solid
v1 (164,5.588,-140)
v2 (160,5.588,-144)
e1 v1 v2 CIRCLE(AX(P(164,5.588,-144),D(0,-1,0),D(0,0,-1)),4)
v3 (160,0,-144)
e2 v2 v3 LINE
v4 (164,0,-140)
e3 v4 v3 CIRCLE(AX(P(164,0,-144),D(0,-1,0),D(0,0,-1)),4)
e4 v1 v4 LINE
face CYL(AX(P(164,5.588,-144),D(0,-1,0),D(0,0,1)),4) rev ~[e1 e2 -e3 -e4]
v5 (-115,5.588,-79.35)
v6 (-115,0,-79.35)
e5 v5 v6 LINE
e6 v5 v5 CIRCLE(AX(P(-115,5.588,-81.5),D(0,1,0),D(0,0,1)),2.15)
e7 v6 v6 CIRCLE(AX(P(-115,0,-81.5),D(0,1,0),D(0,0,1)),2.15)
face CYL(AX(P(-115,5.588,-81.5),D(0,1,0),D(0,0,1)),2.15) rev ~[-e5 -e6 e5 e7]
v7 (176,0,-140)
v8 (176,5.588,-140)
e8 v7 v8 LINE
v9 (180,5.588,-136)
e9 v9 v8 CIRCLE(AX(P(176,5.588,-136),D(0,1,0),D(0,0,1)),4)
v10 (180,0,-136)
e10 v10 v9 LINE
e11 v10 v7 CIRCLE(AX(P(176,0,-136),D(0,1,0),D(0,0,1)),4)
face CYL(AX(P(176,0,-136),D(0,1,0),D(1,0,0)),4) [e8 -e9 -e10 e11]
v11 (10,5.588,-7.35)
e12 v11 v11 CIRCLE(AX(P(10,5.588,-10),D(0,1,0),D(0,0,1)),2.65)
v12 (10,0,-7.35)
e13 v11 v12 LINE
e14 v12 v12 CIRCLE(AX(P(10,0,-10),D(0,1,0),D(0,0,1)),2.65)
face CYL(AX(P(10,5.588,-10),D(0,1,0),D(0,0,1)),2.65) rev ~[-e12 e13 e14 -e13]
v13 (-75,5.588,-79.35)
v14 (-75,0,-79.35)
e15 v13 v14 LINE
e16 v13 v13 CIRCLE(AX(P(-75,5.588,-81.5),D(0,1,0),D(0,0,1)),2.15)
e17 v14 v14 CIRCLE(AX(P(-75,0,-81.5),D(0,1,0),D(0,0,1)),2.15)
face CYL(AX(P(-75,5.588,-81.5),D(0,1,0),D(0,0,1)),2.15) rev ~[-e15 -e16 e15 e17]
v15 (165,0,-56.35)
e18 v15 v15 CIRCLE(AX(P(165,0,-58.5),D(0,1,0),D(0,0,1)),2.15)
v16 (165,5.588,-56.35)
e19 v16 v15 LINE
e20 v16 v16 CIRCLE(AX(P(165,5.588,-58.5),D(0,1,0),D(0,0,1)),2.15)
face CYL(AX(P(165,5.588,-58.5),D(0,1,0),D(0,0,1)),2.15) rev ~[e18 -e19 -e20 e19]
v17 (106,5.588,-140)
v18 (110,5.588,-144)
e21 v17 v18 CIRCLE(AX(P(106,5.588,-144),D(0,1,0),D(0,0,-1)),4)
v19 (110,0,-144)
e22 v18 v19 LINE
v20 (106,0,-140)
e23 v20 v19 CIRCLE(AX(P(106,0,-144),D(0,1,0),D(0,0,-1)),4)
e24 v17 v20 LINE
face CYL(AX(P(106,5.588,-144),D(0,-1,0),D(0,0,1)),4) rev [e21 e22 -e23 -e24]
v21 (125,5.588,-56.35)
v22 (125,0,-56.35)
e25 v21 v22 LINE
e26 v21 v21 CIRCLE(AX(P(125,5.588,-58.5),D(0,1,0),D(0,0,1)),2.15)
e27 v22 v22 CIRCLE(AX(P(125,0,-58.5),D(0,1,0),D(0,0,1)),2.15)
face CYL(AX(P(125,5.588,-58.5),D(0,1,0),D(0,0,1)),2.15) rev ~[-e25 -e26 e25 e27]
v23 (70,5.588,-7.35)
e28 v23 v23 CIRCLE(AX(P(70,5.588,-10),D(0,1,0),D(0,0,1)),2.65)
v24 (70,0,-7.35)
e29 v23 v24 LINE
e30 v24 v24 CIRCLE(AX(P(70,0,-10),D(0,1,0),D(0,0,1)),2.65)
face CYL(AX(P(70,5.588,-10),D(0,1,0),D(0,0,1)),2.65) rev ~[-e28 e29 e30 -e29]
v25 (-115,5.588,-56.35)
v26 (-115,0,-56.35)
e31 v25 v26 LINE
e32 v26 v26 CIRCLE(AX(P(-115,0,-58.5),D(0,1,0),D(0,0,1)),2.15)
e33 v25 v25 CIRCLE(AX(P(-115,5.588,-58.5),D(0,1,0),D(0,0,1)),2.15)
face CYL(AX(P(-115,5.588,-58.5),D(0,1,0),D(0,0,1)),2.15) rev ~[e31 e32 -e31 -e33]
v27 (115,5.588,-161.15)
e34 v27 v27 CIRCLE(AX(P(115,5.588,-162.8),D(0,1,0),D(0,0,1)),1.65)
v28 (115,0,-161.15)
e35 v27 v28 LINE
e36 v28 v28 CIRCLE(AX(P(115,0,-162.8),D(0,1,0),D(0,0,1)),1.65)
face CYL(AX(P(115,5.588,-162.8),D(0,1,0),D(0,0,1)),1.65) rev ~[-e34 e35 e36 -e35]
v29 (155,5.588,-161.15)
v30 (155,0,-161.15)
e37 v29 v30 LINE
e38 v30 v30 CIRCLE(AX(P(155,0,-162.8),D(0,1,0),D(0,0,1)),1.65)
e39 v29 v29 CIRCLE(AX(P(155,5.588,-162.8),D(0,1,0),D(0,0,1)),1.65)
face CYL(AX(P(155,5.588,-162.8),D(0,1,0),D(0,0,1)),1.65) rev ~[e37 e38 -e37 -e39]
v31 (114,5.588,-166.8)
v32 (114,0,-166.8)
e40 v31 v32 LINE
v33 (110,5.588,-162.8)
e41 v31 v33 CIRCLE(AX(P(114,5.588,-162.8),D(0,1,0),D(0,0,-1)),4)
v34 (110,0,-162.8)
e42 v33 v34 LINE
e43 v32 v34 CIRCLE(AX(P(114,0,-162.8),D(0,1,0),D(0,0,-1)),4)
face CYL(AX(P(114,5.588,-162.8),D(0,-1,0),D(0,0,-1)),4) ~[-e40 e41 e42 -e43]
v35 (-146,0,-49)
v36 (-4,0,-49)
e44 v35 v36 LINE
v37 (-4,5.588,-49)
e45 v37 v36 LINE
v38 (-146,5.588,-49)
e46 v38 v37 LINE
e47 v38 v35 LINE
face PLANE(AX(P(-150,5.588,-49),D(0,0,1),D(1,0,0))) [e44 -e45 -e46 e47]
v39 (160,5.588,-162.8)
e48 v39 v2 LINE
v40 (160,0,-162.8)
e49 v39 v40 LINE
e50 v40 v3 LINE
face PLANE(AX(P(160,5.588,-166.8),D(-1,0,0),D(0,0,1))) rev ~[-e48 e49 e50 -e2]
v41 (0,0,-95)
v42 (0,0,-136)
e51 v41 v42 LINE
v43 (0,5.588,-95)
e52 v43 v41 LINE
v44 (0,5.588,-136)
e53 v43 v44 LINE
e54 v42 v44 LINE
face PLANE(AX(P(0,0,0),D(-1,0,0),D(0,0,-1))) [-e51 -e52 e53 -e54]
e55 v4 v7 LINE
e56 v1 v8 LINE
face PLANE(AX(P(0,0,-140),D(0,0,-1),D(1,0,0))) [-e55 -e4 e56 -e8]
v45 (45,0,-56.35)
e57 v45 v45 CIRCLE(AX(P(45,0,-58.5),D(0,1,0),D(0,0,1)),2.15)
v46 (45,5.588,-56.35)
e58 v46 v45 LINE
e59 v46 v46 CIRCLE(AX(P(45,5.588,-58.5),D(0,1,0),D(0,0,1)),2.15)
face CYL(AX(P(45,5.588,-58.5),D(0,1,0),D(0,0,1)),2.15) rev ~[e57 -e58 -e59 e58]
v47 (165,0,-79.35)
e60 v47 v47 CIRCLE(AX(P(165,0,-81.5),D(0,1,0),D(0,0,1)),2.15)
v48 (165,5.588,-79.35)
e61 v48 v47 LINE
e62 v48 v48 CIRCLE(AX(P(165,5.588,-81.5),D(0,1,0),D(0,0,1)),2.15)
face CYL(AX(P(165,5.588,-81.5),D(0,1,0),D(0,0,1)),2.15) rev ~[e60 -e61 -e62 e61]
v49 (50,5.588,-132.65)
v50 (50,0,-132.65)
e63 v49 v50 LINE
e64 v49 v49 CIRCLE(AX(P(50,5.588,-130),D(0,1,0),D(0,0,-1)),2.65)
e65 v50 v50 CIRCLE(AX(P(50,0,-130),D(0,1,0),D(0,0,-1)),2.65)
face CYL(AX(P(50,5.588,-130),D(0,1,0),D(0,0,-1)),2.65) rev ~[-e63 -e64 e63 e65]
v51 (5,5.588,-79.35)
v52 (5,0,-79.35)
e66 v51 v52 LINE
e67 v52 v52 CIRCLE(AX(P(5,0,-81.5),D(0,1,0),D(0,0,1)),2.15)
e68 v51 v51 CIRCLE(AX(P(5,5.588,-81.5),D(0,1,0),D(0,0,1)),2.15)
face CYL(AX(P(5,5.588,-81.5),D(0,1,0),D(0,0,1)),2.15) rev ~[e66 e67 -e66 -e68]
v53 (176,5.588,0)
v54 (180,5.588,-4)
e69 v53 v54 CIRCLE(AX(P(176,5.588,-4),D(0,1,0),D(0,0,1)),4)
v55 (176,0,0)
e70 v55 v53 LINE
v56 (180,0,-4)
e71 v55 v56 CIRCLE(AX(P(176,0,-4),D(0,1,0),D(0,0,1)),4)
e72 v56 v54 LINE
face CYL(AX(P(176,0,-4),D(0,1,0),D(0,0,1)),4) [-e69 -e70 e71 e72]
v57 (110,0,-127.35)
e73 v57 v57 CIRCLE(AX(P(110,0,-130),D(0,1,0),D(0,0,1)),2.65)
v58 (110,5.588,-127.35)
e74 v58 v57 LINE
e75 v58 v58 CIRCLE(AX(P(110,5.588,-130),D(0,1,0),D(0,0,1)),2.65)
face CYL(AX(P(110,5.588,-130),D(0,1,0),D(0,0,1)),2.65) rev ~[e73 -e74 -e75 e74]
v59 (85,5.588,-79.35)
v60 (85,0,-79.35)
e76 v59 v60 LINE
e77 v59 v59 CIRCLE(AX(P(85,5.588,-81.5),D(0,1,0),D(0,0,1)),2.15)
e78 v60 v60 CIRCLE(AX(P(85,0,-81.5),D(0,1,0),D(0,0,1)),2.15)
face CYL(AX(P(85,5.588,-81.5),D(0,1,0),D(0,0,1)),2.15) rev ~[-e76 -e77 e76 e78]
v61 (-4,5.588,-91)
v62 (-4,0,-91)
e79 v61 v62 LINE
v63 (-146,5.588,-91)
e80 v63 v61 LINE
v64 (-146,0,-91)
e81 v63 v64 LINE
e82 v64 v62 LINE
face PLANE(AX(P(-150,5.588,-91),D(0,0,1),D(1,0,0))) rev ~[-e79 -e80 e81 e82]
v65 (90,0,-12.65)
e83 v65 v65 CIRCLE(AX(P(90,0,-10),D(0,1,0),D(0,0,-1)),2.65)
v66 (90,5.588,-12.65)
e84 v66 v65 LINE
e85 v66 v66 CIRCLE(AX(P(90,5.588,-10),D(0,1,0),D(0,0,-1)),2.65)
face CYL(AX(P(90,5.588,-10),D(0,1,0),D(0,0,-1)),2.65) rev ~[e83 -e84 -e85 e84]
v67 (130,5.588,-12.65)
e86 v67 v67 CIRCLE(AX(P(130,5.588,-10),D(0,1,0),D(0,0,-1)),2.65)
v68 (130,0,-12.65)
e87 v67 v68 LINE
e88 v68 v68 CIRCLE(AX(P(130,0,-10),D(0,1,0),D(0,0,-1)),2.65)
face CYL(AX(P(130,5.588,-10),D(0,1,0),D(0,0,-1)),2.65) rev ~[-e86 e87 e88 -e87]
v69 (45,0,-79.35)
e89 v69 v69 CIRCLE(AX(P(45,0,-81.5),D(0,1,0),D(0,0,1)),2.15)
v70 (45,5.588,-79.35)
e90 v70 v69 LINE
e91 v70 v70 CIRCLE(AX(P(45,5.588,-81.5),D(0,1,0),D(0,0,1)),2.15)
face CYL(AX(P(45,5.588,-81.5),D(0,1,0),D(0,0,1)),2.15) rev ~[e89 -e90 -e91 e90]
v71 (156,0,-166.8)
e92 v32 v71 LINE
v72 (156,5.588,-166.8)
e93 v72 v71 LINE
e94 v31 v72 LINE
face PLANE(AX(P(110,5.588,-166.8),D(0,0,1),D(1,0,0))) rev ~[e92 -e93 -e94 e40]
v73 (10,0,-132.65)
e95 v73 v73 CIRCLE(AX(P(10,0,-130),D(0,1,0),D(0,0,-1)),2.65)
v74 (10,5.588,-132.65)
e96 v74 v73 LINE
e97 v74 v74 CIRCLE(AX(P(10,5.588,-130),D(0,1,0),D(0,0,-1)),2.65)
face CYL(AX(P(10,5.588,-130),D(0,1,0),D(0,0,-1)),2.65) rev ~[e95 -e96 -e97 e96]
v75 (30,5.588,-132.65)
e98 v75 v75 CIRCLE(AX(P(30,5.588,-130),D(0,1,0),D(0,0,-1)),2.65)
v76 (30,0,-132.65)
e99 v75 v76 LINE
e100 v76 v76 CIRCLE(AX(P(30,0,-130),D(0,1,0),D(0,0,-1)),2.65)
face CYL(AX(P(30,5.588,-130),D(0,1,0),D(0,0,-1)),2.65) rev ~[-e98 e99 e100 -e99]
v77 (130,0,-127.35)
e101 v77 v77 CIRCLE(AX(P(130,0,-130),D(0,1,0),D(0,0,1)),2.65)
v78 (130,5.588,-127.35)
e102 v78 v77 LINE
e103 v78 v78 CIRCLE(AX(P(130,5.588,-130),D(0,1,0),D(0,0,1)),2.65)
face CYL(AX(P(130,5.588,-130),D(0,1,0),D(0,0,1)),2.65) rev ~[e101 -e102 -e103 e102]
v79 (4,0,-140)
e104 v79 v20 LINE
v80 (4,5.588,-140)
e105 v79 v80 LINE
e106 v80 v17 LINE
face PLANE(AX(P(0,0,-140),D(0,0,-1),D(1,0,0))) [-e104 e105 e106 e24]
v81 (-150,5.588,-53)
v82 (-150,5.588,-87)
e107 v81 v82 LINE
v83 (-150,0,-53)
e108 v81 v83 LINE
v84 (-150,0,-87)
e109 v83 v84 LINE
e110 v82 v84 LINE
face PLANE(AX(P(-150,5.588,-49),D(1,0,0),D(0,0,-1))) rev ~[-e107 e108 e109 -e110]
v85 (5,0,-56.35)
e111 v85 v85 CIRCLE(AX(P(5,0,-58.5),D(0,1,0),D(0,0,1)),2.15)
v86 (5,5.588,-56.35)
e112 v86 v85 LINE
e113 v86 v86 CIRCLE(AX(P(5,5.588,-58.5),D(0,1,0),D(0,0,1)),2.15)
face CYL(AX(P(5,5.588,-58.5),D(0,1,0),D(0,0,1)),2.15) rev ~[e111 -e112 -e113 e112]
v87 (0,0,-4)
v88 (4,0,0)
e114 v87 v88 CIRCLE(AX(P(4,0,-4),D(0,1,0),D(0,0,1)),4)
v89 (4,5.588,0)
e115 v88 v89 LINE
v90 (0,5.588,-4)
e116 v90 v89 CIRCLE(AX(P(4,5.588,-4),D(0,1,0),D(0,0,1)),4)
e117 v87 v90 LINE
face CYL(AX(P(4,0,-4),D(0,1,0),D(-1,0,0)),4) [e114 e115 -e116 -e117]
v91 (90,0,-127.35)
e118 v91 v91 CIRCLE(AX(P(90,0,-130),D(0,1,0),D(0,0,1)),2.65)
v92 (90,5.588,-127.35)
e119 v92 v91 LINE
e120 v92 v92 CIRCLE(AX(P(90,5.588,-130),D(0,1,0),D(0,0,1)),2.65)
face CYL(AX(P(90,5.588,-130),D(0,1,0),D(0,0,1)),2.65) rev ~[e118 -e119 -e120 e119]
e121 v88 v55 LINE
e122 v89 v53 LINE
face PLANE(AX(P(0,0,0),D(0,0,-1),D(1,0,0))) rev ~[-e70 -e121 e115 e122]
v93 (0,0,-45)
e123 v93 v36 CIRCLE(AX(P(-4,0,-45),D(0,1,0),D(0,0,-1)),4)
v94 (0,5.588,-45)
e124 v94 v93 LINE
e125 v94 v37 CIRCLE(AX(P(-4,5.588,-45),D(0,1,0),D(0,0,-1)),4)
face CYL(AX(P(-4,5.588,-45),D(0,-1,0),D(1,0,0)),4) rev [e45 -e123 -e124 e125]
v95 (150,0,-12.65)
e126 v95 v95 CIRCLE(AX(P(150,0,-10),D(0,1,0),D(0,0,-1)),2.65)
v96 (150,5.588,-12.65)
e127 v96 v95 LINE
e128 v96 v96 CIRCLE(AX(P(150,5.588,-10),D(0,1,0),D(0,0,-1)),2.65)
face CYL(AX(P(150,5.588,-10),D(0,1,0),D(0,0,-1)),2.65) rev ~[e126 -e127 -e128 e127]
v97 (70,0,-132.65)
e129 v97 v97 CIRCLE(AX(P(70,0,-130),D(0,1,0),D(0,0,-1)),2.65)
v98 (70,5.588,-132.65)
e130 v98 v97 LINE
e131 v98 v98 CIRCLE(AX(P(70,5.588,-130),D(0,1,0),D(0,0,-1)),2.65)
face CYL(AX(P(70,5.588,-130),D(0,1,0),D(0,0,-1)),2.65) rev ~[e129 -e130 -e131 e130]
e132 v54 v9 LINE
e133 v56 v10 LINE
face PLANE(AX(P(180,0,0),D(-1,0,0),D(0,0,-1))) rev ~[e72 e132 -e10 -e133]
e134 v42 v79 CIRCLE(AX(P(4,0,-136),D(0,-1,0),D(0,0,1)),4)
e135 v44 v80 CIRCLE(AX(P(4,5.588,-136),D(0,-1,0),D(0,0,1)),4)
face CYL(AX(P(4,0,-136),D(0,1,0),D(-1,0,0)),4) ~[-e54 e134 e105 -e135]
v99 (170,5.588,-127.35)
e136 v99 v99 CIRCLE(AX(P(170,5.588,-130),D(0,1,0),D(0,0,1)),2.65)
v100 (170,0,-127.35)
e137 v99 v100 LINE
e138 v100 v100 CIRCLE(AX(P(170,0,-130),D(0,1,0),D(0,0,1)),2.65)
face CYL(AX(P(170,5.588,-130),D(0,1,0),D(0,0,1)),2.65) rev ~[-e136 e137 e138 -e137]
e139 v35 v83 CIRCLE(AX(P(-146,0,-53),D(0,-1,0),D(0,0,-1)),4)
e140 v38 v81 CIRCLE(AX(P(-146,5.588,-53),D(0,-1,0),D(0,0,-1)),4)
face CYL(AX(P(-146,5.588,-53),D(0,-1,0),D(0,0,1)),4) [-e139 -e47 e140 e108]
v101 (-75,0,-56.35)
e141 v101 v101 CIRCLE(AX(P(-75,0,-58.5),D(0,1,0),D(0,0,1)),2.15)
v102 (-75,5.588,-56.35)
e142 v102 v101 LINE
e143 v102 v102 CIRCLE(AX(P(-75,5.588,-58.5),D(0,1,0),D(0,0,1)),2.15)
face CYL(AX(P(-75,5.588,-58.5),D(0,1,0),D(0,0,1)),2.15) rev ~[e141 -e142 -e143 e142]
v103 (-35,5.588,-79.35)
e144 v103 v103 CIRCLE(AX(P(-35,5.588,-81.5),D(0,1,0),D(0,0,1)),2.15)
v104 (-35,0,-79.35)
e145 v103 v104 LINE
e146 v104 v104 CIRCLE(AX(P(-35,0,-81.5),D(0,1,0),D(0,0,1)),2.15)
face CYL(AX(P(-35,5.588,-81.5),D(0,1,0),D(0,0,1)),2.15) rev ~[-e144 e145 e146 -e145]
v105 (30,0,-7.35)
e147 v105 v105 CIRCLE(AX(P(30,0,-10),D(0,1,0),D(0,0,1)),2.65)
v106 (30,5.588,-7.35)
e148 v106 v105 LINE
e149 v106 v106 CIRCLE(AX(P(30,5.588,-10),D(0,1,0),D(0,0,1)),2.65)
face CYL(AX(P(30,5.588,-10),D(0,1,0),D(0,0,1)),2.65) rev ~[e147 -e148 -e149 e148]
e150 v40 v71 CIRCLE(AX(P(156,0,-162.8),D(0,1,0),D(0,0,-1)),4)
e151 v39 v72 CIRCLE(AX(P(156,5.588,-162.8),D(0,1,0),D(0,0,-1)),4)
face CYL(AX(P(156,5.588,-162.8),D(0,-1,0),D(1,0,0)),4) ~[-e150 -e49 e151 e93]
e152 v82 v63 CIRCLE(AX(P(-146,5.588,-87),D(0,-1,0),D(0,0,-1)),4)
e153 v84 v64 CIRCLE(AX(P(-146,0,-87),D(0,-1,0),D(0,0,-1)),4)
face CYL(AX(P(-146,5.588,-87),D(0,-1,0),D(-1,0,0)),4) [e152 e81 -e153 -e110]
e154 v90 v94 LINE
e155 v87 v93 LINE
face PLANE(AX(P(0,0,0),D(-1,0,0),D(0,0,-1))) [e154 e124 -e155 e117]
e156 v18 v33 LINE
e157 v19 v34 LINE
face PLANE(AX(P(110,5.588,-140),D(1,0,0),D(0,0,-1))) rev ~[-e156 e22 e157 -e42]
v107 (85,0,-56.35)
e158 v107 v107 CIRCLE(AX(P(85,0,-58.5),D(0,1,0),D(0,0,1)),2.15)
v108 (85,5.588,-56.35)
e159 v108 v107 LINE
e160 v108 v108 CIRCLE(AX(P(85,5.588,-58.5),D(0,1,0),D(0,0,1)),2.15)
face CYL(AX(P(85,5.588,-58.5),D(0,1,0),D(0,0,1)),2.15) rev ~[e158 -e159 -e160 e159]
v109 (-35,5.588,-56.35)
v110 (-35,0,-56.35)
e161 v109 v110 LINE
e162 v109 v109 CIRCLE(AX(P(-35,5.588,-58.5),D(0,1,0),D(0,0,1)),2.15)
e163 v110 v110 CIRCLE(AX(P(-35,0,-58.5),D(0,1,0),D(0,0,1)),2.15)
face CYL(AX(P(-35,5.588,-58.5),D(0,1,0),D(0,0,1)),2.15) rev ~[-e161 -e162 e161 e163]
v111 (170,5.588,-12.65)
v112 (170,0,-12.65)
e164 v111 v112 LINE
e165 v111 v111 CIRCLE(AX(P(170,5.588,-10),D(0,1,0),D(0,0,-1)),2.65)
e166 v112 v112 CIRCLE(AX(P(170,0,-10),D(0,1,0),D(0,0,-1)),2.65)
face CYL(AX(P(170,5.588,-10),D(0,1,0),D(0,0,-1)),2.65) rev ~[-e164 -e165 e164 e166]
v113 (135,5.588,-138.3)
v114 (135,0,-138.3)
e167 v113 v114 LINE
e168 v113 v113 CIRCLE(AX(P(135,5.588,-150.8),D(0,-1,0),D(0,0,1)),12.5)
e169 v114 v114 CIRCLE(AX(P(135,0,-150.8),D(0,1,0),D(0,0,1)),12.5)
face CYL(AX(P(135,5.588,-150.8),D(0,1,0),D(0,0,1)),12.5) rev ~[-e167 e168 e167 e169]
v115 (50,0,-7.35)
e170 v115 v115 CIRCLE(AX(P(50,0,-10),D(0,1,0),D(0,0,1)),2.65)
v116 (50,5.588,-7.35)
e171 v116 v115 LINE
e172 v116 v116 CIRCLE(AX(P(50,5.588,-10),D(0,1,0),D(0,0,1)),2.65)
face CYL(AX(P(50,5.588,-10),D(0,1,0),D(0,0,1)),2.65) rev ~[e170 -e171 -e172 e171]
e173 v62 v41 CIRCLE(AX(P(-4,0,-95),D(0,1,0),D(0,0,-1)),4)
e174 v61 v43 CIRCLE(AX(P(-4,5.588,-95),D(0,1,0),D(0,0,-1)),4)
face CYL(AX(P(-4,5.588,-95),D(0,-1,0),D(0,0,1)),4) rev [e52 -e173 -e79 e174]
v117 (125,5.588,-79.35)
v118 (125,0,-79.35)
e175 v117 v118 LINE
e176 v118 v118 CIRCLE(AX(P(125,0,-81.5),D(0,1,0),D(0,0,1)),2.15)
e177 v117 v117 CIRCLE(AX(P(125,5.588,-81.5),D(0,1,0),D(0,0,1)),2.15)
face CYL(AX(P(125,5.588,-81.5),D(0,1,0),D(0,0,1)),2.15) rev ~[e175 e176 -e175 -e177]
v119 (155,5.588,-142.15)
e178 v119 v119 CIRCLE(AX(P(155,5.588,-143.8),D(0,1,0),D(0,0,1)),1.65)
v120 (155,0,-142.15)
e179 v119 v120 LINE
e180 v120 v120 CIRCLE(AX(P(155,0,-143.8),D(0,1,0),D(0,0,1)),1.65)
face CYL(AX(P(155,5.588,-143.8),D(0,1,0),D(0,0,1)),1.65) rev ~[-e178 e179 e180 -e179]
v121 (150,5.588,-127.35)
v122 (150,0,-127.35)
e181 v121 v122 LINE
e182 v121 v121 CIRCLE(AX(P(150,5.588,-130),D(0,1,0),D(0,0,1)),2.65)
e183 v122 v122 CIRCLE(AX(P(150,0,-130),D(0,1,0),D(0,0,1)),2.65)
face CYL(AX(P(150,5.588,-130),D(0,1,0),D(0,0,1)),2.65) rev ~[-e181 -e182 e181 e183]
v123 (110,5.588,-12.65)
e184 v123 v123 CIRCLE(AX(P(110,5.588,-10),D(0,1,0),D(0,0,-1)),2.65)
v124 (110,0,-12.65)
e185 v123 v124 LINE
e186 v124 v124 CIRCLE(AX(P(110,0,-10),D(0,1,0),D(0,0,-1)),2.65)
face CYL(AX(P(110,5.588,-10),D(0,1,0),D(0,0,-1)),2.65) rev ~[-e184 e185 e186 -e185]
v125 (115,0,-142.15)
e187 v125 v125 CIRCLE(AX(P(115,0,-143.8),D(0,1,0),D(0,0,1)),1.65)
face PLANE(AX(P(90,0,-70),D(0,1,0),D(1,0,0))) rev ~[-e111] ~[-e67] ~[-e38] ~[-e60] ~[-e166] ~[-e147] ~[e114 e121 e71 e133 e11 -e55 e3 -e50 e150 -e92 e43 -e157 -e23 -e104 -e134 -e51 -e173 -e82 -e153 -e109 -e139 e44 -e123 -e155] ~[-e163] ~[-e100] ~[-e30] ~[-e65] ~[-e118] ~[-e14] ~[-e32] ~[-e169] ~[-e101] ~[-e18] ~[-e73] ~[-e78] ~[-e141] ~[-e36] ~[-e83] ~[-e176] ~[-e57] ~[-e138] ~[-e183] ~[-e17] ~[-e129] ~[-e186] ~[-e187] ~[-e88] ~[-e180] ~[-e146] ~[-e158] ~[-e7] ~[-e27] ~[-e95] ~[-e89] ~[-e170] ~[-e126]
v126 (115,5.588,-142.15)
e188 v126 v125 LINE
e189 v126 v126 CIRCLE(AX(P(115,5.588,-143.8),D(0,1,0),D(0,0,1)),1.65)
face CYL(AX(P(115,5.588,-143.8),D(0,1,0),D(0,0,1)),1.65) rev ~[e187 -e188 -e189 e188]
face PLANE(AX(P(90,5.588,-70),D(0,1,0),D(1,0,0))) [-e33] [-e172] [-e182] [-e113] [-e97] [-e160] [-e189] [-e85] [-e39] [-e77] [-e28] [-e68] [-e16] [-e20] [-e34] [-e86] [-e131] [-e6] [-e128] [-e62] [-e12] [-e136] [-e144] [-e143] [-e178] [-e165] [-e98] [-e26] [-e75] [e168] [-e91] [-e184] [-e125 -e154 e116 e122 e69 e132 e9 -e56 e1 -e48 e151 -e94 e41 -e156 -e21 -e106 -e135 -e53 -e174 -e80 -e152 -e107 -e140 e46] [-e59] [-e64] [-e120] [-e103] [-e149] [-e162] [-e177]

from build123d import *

# Parameters (mm, degrees)
SKETCH1_W           = 180
SKETCH1_H           = 140
BOSS_EXTRUDE1_DEPTH = 5.588
SKETCH3_R           = 2.65
CUT_EXTRUDE2_DEPTH  = 229.103541717
BOSS_EXTRUDE2_DEPTH = 5.588
SKETCH5_R           = 12.5
CUT_EXTRUDE3_DEPTH  = 246.465813799
SKETCH6_R           = 1.65
CUT_EXTRUDE4_DEPTH  = 246.465813799
SKETCH7_W           = 150
SKETCH7_H           = 42
BOSS_EXTRUDE3_DEPTH = 5.588
SKETCH2_R           = 2.15
CUT_EXTRUDE1_DEPTH  = 246.465813799
FILLET1_R           = 4


with BuildPart() as part:
    # Sketch1 → Boss-Extrude1 (new body)
    with BuildSketch(Plane(origin=(0, 0, 0), x_dir=(1, 0, 0), z_dir=(0, 1, 0))):
        with Locations((90, 70)):
            Rectangle(SKETCH1_W, SKETCH1_H)
    extrude(amount=BOSS_EXTRUDE1_DEPTH)

    # Sketch3 → Cut-Extrude2 (cut, through all)
    with BuildSketch(Plane(origin=(0, 5.588, 0), x_dir=(1, 0, 0), z_dir=(0, 1, 0))):
        with Locations(Location((90, 130, 0), (0, 0, 270))):
            Circle(SKETCH3_R)
        with Locations(Location((110, 130, 0), (0, 0, 270))):
            Circle(SKETCH3_R)
        with Locations(Location((130, 130, 0), (0, 0, 270))):
            Circle(SKETCH3_R)
        with Locations(Location((170, 130, 0), (0, 0, 270))):
            Circle(SKETCH3_R)
        with Locations(Location((30, 130, 0), (0, 0, 90))):
            Circle(SKETCH3_R)
        with Locations(Location((150, 130, 0), (0, 0, 270))):
            Circle(SKETCH3_R)
        with Locations(Location((10, 130, 0), (0, 0, 90))):
            Circle(SKETCH3_R)
        with Locations(Location((50, 130, 0), (0, 0, 90))):
            Circle(SKETCH3_R)
        with Locations(Location((70, 130, 0), (0, 0, 90))):
            Circle(SKETCH3_R)
        with Locations(Location((70, 10, 0), (0, 0, 270))):
            Circle(SKETCH3_R)
        with Locations(Location((50, 10, 0), (0, 0, 270))):
            Circle(SKETCH3_R)
        with Locations(Location((10, 10, 0), (0, 0, 270))):
            Circle(SKETCH3_R)
        with Locations(Location((150, 10, 0), (0, 0, 90))):
            Circle(SKETCH3_R)
        with Locations(Location((30, 10, 0), (0, 0, 270))):
            Circle(SKETCH3_R)
        with Locations(Location((170, 10, 0), (0, 0, 90))):
            Circle(SKETCH3_R)
        with Locations(Location((130, 10, 0), (0, 0, 90))):
            Circle(SKETCH3_R)
        with Locations(Location((110, 10, 0), (0, 0, 90))):
            Circle(SKETCH3_R)
        with Locations(Location((90, 10, 0), (0, 0, 90))):
            Circle(SKETCH3_R)
    extrude(amount=-CUT_EXTRUDE2_DEPTH, mode=Mode.SUBTRACT)

    # Sketch4 → Boss-Extrude2 (add, through all)
    with BuildSketch(Plane(origin=(0, 5.588, 0), x_dir=(1, 0, 0), z_dir=(0, 1, 0))):
        with BuildLine():
            Line((160, 140), (141.293647591, 140))
            ThreePointArc((141.293647591, 140), (135, 163.3), (128.706352409, 140))
            Line((128.706352409, 140), (110, 140))
            Line((110, 140), (110, 166.8))
            Line((110, 166.8), (160, 166.8))
            Line((160, 166.8), (160, 140))
        make_face()
    extrude(amount=-BOSS_EXTRUDE2_DEPTH)

    # Sketch5 → Cut-Extrude3 (cut, through all)
    with BuildSketch(Plane(origin=(0, 5.588, 0), x_dir=(1, 0, 0), z_dir=(0, 1, 0))):
        with Locations(Location((135, 150.8, 0), (0, 0, 270))):
            Circle(SKETCH5_R)
    extrude(amount=-CUT_EXTRUDE3_DEPTH, mode=Mode.SUBTRACT)

    # Sketch6 → Cut-Extrude4 (cut, through all)
    with BuildSketch(Plane(origin=(0, 5.588, 0), x_dir=(1, 0, 0), z_dir=(0, 1, 0))):
        with Locations(Location((115, 162.8, 0), (0, 0, 270))):
            Circle(SKETCH6_R)
        with Locations(Location((155, 162.8, 0), (0, 0, 270))):
            Circle(SKETCH6_R)
        with Locations(Location((155, 143.8, 0), (0, 0, 270))):
            Circle(SKETCH6_R)
        with Locations(Location((115, 143.8, 0), (0, 0, 270))):
            Circle(SKETCH6_R)
    extrude(amount=-CUT_EXTRUDE4_DEPTH, mode=Mode.SUBTRACT)

    # Sketch7 → Boss-Extrude3 (add, through all)
    with BuildSketch(Plane(origin=(0, 5.588, 0), x_dir=(1, 0, 0), z_dir=(0, 1, 0))):
        with Locations((-75, 70)):
            Rectangle(SKETCH7_W, SKETCH7_H)
    extrude(amount=-BOSS_EXTRUDE3_DEPTH)

    # Sketch2 → Cut-Extrude1 (cut, through all)
    with BuildSketch(Plane(origin=(0, 5.588, 0), x_dir=(1, 0, 0), z_dir=(0, 1, 0))):
        with Locations(Location((125, 81.5, 0), (0, 0, 270))):
            Circle(SKETCH2_R)
        with Locations(Location((125, 58.5, 0), (0, 0, 270))):
            Circle(SKETCH2_R)
        with Locations(Location((85, 81.5, 0), (0, 0, 270))):
            Circle(SKETCH2_R)
        with Locations(Location((165, 81.5, 0), (0, 0, 270))):
            Circle(SKETCH2_R)
        with Locations(Location((85, 58.5, 0), (0, 0, 270))):
            Circle(SKETCH2_R)
        with Locations(Location((165, 58.5, 0), (0, 0, 270))):
            Circle(SKETCH2_R)
        with Locations(Location((45, 81.5, 0), (0, 0, 270))):
            Circle(SKETCH2_R)
        with Locations(Location((45, 58.5, 0), (0, 0, 270))):
            Circle(SKETCH2_R)
        with Locations(Location((5, 81.5, 0), (0, 0, 270))):
            Circle(SKETCH2_R)
        with Locations(Location((5, 58.5, 0), (0, 0, 270))):
            Circle(SKETCH2_R)
        with Locations(Location((-35, 81.5, 0), (0, 0, 270))):
            Circle(SKETCH2_R)
        with Locations(Location((-35, 58.5, 0), (0, 0, 270))):
            Circle(SKETCH2_R)
        with Locations(Location((-75, 81.5, 0), (0, 0, 270))):
            Circle(SKETCH2_R)
        with Locations(Location((-75, 58.5, 0), (0, 0, 270))):
            Circle(SKETCH2_R)
        with Locations(Location((-115, 81.5, 0), (0, 0, 270))):
            Circle(SKETCH2_R)
        with Locations(Location((-115, 58.5, 0), (0, 0, 270))):
            Circle(SKETCH2_R)
        with Locations((-155, 81.5)):
            Circle(SKETCH2_R)
        with Locations((-155, 58.5)):
            Circle(SKETCH2_R)
    extrude(amount=-CUT_EXTRUDE1_DEPTH, mode=Mode.SUBTRACT)

    # Fillet1
    fillet1_edges = [part.edges().sort_by_distance(p)[0] for p in [
        (0, 2.794, -140),
        (0, 2.794, 0),
        (180, 2.794, 0),
        (180, 2.794, -140),
        (160, 2.794, -140),
        (160, 2.794, -166.8),
        (110, 2.794, -166.8),
        (110, 2.794, -140),
        (0, 2.794, -49),
        (-150, 2.794, -49),
        (-150, 2.794, -91),
        (0, 2.794, -91),
    ]]
    fillet(fillet1_edges, radius=FILLET1_R)


solid = part.part
